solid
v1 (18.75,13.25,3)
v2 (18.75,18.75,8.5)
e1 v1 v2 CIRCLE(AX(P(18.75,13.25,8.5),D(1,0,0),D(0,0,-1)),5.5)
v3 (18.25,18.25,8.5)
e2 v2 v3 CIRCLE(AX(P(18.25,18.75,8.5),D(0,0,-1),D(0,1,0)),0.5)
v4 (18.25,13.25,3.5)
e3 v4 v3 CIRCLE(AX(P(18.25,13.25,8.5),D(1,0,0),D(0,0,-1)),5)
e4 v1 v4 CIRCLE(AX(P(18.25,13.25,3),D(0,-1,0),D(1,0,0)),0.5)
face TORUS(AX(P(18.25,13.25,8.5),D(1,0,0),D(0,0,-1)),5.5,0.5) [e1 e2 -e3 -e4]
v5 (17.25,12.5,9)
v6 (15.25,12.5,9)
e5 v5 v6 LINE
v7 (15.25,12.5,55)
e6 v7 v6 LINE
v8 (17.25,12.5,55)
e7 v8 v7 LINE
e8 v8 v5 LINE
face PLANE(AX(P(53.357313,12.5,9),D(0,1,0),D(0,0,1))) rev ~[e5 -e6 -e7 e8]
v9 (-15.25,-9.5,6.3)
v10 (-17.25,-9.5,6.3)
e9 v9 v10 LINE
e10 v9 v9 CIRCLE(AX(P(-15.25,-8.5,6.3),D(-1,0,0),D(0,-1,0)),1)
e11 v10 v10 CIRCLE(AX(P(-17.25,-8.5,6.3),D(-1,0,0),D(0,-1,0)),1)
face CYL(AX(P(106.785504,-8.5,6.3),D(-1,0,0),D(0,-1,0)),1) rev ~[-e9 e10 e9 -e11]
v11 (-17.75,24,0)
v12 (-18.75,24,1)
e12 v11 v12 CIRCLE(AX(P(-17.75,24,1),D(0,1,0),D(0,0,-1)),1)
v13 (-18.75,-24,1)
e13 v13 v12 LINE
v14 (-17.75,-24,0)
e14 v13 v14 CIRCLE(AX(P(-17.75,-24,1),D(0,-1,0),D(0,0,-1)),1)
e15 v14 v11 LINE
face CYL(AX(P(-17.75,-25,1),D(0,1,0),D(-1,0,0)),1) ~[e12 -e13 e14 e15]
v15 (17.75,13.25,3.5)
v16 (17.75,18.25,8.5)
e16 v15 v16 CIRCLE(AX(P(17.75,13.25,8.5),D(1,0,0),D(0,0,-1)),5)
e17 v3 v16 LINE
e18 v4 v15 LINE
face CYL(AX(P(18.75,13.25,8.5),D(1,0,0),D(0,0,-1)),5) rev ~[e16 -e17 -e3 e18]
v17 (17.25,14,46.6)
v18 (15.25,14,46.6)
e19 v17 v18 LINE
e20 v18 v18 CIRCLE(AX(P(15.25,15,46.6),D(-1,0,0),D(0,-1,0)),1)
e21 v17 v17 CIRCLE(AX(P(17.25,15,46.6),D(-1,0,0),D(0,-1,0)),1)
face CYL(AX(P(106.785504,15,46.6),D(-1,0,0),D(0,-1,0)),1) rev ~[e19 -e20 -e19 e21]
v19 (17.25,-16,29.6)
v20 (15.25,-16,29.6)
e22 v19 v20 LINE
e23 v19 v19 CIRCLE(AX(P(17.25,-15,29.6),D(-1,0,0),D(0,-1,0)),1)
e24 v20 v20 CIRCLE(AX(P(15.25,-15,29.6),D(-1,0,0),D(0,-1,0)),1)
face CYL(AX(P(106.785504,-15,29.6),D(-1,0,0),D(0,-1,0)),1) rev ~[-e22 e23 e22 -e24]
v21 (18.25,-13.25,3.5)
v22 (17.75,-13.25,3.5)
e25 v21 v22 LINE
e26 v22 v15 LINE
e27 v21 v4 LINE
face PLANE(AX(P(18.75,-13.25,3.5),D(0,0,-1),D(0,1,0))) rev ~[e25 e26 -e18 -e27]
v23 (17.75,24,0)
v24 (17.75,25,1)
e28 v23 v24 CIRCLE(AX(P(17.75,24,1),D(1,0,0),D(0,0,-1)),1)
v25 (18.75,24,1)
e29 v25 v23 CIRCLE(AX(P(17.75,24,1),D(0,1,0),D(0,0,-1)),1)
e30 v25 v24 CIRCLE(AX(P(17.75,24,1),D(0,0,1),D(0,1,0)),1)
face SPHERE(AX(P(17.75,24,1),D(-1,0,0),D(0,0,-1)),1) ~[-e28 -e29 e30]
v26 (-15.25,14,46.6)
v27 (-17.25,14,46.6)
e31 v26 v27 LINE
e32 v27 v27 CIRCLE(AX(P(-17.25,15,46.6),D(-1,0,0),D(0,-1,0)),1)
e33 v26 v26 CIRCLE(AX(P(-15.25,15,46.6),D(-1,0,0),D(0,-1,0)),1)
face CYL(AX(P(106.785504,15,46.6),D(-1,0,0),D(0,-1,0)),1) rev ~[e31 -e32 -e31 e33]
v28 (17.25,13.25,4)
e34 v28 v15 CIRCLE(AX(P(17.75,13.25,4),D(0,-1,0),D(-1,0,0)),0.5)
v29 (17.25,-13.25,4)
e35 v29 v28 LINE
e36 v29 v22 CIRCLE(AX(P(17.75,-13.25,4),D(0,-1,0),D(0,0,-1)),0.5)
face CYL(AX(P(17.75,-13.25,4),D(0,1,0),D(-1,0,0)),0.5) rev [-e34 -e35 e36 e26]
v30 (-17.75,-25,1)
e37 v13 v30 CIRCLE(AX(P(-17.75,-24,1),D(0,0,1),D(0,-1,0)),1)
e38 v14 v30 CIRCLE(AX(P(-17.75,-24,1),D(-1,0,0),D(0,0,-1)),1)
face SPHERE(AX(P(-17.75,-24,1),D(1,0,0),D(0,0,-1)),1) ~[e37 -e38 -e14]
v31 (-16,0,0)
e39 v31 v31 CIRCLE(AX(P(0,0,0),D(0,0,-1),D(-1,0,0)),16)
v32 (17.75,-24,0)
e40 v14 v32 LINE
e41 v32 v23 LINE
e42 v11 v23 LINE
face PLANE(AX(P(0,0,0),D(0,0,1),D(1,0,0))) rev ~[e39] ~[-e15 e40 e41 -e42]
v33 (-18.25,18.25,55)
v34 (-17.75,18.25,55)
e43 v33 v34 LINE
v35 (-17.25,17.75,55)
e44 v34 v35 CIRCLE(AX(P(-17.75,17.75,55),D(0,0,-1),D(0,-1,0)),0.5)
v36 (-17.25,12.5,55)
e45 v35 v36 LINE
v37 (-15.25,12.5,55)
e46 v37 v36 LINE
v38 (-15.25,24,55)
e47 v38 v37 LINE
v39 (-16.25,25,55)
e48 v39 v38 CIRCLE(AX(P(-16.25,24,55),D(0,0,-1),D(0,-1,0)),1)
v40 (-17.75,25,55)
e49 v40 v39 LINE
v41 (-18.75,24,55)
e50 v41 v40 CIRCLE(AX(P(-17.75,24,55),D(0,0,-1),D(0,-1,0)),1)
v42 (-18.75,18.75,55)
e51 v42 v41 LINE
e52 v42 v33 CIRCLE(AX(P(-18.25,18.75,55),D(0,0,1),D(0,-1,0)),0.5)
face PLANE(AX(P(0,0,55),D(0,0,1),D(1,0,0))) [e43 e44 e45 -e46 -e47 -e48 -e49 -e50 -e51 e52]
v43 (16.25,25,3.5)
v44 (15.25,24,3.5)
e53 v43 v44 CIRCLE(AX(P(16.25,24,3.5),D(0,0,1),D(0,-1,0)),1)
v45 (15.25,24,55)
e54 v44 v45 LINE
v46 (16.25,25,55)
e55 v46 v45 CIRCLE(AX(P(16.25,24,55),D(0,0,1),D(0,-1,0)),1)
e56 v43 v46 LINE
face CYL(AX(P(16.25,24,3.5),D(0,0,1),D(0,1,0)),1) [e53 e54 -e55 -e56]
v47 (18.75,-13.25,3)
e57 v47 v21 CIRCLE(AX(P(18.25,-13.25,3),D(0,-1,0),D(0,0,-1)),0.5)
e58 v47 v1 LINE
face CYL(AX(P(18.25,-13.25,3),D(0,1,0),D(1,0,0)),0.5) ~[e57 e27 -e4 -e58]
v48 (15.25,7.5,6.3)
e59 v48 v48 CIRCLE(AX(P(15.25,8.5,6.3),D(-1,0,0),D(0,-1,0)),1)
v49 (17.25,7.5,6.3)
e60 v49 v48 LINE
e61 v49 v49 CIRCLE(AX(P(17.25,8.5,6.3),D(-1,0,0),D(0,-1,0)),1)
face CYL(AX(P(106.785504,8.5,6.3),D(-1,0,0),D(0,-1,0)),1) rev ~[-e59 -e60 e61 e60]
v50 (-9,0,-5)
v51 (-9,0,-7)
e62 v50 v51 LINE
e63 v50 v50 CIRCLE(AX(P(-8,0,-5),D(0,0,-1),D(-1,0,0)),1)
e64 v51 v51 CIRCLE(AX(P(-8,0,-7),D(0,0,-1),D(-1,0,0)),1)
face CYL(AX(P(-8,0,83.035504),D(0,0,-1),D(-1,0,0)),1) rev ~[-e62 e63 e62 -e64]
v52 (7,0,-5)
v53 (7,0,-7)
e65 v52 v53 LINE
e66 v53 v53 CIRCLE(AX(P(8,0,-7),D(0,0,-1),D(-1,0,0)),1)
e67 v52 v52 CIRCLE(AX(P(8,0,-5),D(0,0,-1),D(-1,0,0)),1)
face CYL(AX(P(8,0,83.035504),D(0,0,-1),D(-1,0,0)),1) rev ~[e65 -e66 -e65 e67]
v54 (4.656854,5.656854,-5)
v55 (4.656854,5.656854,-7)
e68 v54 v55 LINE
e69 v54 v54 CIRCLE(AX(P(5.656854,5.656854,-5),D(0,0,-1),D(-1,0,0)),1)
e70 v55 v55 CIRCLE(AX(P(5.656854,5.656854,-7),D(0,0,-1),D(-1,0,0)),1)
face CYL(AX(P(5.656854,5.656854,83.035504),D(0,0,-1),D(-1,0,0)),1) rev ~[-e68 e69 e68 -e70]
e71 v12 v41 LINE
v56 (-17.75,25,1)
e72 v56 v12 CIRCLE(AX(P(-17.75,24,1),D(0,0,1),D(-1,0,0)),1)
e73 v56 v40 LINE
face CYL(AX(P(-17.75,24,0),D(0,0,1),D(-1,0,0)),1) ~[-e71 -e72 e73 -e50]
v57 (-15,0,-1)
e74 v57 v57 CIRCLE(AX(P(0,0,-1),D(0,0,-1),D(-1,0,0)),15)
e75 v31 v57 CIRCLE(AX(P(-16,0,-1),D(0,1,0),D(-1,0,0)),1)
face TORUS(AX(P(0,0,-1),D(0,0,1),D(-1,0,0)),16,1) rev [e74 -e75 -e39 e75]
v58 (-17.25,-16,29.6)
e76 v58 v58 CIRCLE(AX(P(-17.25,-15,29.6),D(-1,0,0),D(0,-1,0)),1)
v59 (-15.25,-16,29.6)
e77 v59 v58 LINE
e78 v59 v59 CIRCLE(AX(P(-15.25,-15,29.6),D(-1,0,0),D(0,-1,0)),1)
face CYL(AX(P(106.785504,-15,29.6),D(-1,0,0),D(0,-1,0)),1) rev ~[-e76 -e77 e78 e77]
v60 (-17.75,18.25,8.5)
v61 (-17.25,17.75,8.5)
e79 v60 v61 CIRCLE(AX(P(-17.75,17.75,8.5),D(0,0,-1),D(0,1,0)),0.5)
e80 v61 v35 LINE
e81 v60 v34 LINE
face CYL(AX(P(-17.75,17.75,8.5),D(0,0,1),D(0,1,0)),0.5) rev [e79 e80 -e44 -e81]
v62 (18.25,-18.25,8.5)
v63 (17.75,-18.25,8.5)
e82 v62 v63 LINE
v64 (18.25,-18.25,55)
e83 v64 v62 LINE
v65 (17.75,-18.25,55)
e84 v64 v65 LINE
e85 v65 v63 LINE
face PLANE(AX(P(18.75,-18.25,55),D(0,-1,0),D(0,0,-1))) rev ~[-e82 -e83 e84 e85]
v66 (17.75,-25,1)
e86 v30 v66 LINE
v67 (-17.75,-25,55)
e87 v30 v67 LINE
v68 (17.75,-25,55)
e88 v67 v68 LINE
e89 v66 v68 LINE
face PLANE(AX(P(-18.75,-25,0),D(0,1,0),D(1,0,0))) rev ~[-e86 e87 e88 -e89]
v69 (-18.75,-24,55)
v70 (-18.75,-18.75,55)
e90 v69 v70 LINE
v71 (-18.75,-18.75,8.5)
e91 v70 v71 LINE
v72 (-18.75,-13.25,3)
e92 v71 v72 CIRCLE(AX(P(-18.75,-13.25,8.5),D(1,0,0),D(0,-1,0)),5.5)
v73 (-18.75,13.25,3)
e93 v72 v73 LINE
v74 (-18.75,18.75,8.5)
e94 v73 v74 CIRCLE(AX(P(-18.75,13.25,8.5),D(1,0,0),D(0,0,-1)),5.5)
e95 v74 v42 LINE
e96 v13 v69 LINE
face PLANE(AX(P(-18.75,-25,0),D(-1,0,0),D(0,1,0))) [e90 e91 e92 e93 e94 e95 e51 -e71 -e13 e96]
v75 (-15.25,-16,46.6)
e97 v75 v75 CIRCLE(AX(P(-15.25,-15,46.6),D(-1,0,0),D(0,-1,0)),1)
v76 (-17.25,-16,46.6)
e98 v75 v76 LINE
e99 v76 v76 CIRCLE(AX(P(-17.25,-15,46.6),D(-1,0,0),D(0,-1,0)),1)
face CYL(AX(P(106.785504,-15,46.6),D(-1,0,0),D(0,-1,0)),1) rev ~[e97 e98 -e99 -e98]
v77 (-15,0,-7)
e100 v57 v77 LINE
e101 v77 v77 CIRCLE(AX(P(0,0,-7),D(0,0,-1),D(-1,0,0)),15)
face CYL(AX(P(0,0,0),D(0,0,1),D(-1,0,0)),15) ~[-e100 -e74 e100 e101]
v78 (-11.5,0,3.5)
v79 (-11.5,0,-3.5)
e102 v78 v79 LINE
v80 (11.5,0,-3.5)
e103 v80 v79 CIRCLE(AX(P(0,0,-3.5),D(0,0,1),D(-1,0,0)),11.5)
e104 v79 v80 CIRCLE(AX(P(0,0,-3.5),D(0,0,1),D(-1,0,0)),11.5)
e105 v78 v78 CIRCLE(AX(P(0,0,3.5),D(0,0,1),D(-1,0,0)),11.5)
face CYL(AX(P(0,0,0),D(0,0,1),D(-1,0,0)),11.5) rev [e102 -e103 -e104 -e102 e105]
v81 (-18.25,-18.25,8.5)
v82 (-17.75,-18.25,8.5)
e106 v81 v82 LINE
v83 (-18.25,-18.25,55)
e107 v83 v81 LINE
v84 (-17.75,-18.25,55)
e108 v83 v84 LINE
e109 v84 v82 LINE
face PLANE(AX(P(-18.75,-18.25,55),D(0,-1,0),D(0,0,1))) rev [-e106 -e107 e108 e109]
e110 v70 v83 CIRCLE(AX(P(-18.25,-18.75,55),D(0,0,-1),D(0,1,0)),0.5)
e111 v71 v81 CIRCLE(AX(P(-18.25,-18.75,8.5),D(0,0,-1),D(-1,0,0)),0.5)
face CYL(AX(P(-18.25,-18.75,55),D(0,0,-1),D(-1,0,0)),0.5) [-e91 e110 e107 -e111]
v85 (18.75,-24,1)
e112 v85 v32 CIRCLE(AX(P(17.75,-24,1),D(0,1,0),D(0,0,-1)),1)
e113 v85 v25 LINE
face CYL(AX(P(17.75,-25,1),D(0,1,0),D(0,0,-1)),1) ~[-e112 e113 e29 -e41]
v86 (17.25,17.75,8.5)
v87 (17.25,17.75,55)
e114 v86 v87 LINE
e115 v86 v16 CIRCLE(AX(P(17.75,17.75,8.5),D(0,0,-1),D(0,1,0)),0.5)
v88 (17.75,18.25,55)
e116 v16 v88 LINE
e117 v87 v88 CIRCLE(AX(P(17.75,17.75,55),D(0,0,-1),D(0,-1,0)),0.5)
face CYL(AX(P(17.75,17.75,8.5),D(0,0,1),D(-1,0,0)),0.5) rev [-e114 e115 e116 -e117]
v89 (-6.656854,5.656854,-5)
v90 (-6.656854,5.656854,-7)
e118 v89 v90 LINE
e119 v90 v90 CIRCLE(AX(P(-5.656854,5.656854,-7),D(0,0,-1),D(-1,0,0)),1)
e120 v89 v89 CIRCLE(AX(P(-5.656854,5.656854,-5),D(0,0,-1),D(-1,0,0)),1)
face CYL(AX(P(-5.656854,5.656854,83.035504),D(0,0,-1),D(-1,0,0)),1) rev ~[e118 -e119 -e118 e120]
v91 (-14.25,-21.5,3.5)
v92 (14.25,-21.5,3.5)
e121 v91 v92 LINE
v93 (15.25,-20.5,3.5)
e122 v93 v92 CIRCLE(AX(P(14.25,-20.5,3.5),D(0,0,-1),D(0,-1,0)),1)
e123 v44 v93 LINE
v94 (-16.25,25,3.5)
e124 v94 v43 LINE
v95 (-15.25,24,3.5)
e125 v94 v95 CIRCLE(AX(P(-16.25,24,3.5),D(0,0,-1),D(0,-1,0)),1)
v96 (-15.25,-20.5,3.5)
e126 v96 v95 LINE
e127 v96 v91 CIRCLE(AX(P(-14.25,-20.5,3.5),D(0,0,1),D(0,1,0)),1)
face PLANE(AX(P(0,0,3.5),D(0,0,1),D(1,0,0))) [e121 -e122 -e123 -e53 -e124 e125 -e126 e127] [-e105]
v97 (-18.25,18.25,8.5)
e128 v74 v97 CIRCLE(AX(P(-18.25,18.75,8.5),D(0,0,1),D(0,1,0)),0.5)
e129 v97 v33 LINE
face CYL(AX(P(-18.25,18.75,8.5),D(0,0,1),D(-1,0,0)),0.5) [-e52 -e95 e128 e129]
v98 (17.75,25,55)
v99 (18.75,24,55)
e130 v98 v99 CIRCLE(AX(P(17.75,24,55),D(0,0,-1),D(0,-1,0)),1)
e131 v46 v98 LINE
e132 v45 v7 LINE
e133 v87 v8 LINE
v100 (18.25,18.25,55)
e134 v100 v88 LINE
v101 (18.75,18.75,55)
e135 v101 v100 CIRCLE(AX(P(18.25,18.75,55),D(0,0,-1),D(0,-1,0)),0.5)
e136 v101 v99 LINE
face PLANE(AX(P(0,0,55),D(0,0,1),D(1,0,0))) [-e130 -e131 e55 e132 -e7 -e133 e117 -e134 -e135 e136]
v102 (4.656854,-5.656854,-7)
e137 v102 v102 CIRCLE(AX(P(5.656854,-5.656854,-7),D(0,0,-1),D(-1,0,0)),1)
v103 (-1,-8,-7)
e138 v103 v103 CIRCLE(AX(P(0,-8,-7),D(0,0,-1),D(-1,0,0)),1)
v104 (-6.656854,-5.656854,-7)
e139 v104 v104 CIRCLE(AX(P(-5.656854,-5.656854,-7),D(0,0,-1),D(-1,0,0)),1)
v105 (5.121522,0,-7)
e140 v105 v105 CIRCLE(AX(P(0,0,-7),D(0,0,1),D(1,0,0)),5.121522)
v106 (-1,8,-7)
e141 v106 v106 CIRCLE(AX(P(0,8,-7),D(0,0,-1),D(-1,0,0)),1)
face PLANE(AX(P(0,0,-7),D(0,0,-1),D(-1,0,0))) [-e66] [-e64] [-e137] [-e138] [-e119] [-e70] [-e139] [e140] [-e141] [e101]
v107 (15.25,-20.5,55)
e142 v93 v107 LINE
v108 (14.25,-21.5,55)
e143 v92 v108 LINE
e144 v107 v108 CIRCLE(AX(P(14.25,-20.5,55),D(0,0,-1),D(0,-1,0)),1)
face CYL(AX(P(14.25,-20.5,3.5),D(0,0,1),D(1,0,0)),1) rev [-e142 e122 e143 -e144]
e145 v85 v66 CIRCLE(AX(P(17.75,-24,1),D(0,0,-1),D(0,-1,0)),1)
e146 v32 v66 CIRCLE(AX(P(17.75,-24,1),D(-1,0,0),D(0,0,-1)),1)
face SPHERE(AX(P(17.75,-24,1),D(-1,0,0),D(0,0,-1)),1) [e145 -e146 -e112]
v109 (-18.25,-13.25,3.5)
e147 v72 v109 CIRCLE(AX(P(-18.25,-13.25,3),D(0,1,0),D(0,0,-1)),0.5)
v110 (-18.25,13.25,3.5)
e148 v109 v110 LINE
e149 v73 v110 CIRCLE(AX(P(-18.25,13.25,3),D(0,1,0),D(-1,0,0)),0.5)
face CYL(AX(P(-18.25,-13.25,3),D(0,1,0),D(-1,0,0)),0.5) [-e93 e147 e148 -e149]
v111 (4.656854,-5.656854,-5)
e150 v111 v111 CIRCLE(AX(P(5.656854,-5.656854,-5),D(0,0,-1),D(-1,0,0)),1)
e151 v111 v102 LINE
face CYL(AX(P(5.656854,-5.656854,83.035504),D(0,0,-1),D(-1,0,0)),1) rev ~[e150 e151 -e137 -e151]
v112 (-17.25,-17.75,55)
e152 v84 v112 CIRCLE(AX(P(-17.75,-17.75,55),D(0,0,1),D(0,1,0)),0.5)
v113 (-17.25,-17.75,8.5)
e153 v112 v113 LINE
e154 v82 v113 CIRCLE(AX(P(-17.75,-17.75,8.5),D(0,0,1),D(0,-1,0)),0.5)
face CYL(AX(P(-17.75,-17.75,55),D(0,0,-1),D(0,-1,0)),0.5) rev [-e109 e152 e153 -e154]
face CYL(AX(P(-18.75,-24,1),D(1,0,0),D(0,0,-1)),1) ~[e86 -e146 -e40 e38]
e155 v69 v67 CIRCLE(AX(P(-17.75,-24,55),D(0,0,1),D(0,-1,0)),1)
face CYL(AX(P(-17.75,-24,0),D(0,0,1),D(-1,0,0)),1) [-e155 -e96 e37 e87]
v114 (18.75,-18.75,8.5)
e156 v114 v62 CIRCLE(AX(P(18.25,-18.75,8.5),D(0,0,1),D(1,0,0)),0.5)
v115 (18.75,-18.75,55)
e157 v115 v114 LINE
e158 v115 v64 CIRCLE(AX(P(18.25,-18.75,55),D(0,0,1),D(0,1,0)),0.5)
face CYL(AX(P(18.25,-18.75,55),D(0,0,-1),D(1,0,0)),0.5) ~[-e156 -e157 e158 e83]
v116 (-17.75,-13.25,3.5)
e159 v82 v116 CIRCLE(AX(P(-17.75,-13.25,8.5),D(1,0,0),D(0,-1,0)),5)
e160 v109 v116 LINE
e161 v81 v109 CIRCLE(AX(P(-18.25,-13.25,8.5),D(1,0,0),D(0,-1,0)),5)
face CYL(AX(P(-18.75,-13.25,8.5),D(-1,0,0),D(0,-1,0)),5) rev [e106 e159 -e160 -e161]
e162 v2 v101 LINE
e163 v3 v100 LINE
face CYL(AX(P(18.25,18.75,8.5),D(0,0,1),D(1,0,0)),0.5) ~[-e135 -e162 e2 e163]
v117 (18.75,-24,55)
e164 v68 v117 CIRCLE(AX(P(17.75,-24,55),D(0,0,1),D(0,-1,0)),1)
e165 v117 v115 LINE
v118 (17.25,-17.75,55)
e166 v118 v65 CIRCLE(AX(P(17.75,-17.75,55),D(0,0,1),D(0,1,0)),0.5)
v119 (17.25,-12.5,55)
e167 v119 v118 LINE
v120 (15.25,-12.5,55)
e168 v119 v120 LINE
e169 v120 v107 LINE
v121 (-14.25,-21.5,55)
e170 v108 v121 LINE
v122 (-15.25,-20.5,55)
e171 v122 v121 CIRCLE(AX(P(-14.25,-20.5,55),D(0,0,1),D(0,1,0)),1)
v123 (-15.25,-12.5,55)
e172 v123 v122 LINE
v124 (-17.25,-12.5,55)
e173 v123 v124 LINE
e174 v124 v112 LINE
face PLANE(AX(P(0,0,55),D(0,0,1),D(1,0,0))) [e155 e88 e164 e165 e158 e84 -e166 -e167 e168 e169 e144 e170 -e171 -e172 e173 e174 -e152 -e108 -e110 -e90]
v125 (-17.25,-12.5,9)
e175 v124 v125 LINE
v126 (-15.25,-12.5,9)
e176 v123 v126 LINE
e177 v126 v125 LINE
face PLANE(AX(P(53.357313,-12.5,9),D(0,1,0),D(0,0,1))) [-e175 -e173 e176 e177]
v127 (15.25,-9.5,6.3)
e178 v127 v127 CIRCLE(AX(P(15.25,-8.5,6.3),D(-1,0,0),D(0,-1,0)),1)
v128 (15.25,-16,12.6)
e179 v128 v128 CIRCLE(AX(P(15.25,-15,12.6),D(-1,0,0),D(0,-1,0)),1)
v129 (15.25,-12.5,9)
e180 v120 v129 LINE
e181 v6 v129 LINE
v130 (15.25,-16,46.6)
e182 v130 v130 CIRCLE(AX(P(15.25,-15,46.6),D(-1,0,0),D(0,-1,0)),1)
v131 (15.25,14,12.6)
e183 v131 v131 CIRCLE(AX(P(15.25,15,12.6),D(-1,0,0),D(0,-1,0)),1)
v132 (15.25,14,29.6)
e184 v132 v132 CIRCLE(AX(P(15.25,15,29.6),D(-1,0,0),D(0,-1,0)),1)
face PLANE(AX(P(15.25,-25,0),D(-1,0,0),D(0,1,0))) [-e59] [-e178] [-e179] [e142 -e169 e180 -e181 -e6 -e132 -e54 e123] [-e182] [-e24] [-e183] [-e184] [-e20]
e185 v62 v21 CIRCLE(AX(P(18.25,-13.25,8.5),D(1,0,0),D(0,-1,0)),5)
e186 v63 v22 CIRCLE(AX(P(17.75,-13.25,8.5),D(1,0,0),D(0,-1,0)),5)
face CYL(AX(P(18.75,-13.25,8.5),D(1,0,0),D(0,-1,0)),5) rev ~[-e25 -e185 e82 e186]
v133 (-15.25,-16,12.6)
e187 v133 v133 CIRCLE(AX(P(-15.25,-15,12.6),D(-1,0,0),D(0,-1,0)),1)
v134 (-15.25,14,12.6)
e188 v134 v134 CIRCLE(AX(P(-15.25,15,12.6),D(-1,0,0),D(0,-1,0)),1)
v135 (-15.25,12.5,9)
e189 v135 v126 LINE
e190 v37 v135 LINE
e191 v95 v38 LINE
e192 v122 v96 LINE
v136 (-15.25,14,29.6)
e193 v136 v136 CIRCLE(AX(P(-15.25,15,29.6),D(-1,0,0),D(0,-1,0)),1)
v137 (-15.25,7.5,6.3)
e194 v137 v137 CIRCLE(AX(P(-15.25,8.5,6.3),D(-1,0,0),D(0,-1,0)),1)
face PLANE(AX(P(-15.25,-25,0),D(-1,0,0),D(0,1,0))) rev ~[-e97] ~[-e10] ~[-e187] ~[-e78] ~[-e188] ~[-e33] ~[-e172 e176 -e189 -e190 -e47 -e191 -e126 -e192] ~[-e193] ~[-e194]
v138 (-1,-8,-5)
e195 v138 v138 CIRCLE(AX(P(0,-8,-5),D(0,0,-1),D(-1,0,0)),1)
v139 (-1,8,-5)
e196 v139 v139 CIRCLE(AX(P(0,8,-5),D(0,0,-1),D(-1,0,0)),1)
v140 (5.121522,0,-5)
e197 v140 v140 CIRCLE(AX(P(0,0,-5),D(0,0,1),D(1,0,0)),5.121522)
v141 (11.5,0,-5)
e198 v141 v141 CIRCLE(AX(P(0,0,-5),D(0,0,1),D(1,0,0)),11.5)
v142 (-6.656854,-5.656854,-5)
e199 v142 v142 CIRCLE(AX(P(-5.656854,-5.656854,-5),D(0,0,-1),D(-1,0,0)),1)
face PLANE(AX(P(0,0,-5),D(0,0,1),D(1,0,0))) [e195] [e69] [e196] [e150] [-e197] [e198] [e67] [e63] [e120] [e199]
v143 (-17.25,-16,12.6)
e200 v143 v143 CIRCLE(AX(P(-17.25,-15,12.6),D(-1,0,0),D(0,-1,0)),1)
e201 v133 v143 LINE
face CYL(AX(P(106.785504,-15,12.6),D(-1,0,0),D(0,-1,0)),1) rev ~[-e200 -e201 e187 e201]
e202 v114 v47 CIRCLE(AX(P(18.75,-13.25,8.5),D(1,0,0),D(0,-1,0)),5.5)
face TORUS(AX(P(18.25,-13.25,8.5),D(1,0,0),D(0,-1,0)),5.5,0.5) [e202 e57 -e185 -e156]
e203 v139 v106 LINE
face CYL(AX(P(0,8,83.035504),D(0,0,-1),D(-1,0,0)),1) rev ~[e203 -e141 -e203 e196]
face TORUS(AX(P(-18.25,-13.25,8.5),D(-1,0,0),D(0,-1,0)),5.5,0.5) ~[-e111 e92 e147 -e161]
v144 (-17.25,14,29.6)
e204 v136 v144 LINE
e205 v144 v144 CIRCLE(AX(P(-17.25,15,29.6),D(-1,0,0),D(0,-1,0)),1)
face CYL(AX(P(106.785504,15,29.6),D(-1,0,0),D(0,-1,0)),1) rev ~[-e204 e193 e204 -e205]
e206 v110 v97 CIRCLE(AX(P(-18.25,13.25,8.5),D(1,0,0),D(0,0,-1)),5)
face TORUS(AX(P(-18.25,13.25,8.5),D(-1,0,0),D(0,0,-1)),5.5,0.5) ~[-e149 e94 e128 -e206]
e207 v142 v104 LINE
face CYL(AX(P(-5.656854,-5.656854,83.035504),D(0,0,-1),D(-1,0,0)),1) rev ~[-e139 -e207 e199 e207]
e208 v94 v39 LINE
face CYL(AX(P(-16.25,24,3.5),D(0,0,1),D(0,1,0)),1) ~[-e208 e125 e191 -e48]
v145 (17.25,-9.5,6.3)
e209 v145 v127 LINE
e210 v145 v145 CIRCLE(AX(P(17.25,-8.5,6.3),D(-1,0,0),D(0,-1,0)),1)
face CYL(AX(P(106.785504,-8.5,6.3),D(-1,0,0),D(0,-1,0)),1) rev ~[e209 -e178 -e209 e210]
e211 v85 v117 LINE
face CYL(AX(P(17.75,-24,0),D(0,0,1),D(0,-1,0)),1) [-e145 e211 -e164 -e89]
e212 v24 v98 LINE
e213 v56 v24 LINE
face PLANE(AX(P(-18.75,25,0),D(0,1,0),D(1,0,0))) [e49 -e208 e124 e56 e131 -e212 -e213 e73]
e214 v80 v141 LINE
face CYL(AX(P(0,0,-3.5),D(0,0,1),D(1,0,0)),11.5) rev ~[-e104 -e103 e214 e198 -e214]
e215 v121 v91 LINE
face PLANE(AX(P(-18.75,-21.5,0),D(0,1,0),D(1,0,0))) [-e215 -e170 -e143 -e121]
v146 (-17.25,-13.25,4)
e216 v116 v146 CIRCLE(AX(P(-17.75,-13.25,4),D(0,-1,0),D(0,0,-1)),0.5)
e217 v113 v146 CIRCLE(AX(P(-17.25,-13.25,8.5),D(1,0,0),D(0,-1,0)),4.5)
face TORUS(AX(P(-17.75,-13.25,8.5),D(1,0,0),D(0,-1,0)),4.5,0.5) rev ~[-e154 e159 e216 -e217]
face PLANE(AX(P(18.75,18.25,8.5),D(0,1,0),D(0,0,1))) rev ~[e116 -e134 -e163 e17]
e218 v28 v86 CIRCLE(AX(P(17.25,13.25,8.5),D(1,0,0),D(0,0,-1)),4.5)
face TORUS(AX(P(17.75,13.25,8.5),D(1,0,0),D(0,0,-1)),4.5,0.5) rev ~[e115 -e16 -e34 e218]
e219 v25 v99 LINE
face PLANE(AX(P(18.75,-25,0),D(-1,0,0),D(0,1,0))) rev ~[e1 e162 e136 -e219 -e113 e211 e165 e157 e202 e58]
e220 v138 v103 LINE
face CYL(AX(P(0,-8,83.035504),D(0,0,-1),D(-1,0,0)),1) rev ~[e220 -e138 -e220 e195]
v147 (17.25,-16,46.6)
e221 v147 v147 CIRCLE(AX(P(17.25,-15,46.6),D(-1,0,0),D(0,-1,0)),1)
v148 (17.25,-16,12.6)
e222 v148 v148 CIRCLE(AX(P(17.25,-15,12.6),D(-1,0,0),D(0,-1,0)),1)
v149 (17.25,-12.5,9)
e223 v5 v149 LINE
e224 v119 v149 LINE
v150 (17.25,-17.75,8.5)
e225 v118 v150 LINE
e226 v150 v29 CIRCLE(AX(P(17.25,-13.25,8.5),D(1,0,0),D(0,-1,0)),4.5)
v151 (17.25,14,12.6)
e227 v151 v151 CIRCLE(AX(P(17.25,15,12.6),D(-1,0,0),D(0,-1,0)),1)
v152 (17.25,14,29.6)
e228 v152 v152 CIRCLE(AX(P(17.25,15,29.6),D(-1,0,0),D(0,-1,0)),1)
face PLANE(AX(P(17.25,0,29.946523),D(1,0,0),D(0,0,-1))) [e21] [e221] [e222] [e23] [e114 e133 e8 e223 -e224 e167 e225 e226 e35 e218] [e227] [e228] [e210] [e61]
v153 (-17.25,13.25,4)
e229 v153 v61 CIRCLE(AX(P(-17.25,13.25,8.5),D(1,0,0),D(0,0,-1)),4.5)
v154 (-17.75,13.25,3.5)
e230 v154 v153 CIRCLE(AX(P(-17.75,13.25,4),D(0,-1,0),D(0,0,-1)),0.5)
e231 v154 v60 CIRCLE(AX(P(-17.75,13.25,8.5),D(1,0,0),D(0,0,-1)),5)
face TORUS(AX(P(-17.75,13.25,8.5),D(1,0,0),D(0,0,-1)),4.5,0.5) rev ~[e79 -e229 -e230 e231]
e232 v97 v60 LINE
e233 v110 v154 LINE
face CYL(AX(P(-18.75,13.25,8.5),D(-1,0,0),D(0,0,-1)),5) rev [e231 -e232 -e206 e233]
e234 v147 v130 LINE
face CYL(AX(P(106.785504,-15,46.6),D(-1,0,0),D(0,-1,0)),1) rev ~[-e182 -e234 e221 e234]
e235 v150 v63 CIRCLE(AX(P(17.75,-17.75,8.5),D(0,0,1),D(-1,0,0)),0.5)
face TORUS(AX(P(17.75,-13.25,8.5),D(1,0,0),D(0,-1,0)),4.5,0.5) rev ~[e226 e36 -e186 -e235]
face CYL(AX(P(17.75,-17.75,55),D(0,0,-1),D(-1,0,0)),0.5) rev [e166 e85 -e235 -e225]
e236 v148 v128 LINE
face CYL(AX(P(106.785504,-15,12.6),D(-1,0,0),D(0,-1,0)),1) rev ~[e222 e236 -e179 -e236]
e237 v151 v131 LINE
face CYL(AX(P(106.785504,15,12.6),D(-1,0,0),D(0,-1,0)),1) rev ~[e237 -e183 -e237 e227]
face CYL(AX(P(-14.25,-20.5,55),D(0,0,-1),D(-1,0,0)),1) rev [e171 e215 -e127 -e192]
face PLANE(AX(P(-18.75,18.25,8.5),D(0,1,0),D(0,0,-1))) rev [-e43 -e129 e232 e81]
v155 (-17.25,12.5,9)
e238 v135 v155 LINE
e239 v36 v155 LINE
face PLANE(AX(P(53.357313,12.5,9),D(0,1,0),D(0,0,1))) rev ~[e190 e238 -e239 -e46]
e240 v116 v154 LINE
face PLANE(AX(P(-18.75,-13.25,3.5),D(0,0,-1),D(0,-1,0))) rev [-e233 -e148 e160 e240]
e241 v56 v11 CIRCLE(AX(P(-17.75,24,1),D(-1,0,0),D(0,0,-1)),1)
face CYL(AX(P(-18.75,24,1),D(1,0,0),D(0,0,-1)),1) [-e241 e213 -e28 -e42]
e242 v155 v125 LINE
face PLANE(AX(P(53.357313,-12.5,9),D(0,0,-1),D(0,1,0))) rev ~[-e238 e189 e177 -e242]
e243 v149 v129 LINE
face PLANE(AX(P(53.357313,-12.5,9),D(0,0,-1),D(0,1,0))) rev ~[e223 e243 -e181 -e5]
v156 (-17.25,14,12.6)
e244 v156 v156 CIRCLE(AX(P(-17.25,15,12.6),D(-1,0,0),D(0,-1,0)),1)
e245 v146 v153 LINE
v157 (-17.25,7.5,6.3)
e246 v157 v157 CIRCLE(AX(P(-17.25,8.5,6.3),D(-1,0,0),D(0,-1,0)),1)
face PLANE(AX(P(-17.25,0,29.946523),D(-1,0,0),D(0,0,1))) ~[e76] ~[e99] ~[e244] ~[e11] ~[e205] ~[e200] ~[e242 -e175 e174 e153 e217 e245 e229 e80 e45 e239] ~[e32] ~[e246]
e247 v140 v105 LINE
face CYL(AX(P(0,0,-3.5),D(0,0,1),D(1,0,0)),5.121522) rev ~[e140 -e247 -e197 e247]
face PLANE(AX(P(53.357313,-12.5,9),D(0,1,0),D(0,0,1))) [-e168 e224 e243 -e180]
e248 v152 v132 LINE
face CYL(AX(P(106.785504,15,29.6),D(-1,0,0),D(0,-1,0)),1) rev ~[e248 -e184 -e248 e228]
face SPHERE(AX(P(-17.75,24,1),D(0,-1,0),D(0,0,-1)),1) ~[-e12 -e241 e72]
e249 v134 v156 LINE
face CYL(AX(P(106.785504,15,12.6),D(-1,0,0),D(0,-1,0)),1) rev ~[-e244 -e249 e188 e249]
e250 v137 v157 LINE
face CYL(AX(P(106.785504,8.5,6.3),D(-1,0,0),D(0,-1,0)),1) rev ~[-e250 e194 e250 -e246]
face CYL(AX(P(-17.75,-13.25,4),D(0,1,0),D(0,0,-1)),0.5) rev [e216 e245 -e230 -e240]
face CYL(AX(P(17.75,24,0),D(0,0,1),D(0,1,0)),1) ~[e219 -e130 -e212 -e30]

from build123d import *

# Parameters (mm, degrees)
SKETCH1_W               = 37.5
SKETCH1_H               = 50
BOSS_EXTRUDE1_DEPTH     = 55
SKETCH3_R               = 15
BOSS_EXTRUDE2_DEPTH     = 7
SHELL1_T                = -3.5
SKETCH4_R               = 5.121522354
CUT_EXTRUDE1_DEPTH      = 7
CUT_EXTRUDE2_DEPTH      = 72.107313267
CUT_EXTRUDE2_DEPTH_BACK = 72.107313267
SKETCH5_W               = 46
SKETCH5_H               = 25
TAP_DRILL_FOR_M2_TAP1_D = 2
CUT_EXTRUDE4_DEPTH      = 1.5
FILLET1_R               = 1
FILLET2_R               = 0.5
SKETCH11_R              = 11.5
CUT_EXTRUDE5_DEPTH      = 1.5
F_1_0MM_DOWEL_HOLE1_D   = 2


with BuildPart() as part:
    # Sketch1 → Boss-Extrude1 (new body)
    with BuildSketch(Plane.XY):
        Rectangle(SKETCH1_W, SKETCH1_H)
    extrude(amount=BOSS_EXTRUDE1_DEPTH)

    # Sketch3 → Boss-Extrude2 (add)
    with BuildSketch(Plane(origin=(0, 0, 0), x_dir=(-1, 0, 0), z_dir=(0, 0, -1))):
        Circle(SKETCH3_R)
    extrude(amount=BOSS_EXTRUDE2_DEPTH)

    # Shell1
    shell1_openings = [part.faces().sort_by_distance(p)[0] for p in [
        (0, 0, 55),
        (0, 25, 27.5),
    ]]
    offset(amount=SHELL1_T, openings=shell1_openings, kind=Kind.INTERSECTION)

    # Sketch4 → Cut-Extrude1 (cut)
    with BuildSketch(Plane.XY.offset(-3.5)):
        Circle(SKETCH4_R)
    extrude(amount=-CUT_EXTRUDE1_DEPTH, mode=Mode.SUBTRACT)

    # Sketch5 → Cut-Extrude2 (cut, two sides: drawn at the far end of the back side and taken through both)
    with BuildSketch(Plane.ZY.offset(18.75).offset(-CUT_EXTRUDE2_DEPTH_BACK)):
        with Locations((32, 0)):
            Rectangle(SKETCH5_W, SKETCH5_H)
    extrude(amount=CUT_EXTRUDE2_DEPTH + CUT_EXTRUDE2_DEPTH_BACK, mode=Mode.SUBTRACT)

    # Tap Drill for M2 Tap1 (through all)
    with Locations(Plane(origin=(18.75, 15, 46.6), x_dir=(0, 1, 0), z_dir=(1, 0, 0))):
        with Locations((0, 0), (0, -17), (-30, 0), (-30, -17), (-30, -34), (-23.5, -40.3), (-6.5, -40.3), (0, -34)):
            Hole(TAP_DRILL_FOR_M2_TAP1_D / 2)

    # Sketch10 → Cut-Extrude4 (cut)
    with BuildSketch(Plane(origin=(18.75, 0, 0), x_dir=(0, 0, -1), z_dir=(1, 0, 0))):
        with BuildLine():
            Line((-55, -18.25), (-8.5, -18.25))
            ThreePointArc((-8.5, -18.25), (-4.964466094, -16.785533906), (-3.5, -13.25))
            Line((-3.5, -13.25), (-3.5, 13.25))
            ThreePointArc((-3.5, 13.25), (-4.964466094, 16.785533906), (-8.5, 18.25))
            Line((-8.5, 18.25), (-55, 18.25))
            Line((-55, 18.25), (-55, -18.25))
        make_face()
    cut_extrude4 = extrude(amount=-CUT_EXTRUDE4_DEPTH, mode=Mode.SUBTRACT)

    # Mirror1: Cut-Extrude4 across plane
    add(cut_extrude4.mirror(Plane(origin=(0, 0, 0), x_dir=(0, 0, 1), z_dir=(1, 0, 0))), mode=Mode.SUBTRACT)

    # Fillet1
    fillet1_edges = [part.edges().sort_by_distance(p)[0] for p in [
        (15, 0, 0),
        (15.25, -21.5, 29.25),
        (15.25, 25, 29.25),
        (-15.25, 25, 29.25),
        (-15.25, -21.5, 29.25),
        (0, -25, 0),
        (-18.75, 0, 0),
        (0, 25, 0),
        (18.75, 0, 0),
        (18.75, -25, 27.5),
        (-18.75, -25, 27.5),
        (-18.75, 25, 27.5),
        (18.75, 25, 27.5),
    ]]
    fillet(fillet1_edges, radius=FILLET1_R)

    # Fillet2
    fillet2_edges = [part.edges().sort_by_distance(p)[0] for p in [
        (18.75, -18.25, 31.75),
        (18.75, -16.785533906, 4.964466094),
        (18.75, 0, 3.5),
        (18.75, 16.785533906, 4.964466094),
        (18.75, 18.25, 31.75),
        (17.25, 18.25, 31.75),
        (17.25, 16.785533906, 4.964466094),
        (17.25, 0, 3.5),
        (17.25, -16.785533906, 4.964466094),
        (17.25, -18.25, 31.75),
        (-17.25, -18.25, 31.75),
        (-17.25, -16.785533906, 4.964466094),
        (-17.25, 0, 3.5),
        (-17.25, 16.785533906, 4.964466094),
        (-17.25, 18.25, 31.75),
        (-18.75, -18.25, 31.75),
        (-18.75, -16.785533906, 4.964466094),
        (-18.75, 0, 3.5),
        (-18.75, 16.785533906, 4.964466094),
        (-18.75, 18.25, 31.75),
    ]]
    fillet(fillet2_edges, radius=FILLET2_R)

    # Sketch11 → Cut-Extrude5 (cut)
    with BuildSketch(Plane.XY.offset(-3.5)):
        Circle(SKETCH11_R)
    extrude(amount=-CUT_EXTRUDE5_DEPTH, mode=Mode.SUBTRACT)

    # Ø1.0mm Dowel Hole1 (through all)
    with Locations(Plane(origin=(5.656854249, 5.656854249, -5), x_dir=(1, 0, 0), z_dir=(0, 0, 1))):
        with Locations((0, 0), (-5.656854249, 2.343145751), (2.343145751, -5.656854249), (0, -11.313708498), (-5.656854249, -13.656854249), (-11.313708498, -11.313708498), (-13.656854249, -5.656854249), (-11.313708498, 0)):
            Hole(F_1_0MM_DOWEL_HOLE1_D / 2)


solid = part.part
